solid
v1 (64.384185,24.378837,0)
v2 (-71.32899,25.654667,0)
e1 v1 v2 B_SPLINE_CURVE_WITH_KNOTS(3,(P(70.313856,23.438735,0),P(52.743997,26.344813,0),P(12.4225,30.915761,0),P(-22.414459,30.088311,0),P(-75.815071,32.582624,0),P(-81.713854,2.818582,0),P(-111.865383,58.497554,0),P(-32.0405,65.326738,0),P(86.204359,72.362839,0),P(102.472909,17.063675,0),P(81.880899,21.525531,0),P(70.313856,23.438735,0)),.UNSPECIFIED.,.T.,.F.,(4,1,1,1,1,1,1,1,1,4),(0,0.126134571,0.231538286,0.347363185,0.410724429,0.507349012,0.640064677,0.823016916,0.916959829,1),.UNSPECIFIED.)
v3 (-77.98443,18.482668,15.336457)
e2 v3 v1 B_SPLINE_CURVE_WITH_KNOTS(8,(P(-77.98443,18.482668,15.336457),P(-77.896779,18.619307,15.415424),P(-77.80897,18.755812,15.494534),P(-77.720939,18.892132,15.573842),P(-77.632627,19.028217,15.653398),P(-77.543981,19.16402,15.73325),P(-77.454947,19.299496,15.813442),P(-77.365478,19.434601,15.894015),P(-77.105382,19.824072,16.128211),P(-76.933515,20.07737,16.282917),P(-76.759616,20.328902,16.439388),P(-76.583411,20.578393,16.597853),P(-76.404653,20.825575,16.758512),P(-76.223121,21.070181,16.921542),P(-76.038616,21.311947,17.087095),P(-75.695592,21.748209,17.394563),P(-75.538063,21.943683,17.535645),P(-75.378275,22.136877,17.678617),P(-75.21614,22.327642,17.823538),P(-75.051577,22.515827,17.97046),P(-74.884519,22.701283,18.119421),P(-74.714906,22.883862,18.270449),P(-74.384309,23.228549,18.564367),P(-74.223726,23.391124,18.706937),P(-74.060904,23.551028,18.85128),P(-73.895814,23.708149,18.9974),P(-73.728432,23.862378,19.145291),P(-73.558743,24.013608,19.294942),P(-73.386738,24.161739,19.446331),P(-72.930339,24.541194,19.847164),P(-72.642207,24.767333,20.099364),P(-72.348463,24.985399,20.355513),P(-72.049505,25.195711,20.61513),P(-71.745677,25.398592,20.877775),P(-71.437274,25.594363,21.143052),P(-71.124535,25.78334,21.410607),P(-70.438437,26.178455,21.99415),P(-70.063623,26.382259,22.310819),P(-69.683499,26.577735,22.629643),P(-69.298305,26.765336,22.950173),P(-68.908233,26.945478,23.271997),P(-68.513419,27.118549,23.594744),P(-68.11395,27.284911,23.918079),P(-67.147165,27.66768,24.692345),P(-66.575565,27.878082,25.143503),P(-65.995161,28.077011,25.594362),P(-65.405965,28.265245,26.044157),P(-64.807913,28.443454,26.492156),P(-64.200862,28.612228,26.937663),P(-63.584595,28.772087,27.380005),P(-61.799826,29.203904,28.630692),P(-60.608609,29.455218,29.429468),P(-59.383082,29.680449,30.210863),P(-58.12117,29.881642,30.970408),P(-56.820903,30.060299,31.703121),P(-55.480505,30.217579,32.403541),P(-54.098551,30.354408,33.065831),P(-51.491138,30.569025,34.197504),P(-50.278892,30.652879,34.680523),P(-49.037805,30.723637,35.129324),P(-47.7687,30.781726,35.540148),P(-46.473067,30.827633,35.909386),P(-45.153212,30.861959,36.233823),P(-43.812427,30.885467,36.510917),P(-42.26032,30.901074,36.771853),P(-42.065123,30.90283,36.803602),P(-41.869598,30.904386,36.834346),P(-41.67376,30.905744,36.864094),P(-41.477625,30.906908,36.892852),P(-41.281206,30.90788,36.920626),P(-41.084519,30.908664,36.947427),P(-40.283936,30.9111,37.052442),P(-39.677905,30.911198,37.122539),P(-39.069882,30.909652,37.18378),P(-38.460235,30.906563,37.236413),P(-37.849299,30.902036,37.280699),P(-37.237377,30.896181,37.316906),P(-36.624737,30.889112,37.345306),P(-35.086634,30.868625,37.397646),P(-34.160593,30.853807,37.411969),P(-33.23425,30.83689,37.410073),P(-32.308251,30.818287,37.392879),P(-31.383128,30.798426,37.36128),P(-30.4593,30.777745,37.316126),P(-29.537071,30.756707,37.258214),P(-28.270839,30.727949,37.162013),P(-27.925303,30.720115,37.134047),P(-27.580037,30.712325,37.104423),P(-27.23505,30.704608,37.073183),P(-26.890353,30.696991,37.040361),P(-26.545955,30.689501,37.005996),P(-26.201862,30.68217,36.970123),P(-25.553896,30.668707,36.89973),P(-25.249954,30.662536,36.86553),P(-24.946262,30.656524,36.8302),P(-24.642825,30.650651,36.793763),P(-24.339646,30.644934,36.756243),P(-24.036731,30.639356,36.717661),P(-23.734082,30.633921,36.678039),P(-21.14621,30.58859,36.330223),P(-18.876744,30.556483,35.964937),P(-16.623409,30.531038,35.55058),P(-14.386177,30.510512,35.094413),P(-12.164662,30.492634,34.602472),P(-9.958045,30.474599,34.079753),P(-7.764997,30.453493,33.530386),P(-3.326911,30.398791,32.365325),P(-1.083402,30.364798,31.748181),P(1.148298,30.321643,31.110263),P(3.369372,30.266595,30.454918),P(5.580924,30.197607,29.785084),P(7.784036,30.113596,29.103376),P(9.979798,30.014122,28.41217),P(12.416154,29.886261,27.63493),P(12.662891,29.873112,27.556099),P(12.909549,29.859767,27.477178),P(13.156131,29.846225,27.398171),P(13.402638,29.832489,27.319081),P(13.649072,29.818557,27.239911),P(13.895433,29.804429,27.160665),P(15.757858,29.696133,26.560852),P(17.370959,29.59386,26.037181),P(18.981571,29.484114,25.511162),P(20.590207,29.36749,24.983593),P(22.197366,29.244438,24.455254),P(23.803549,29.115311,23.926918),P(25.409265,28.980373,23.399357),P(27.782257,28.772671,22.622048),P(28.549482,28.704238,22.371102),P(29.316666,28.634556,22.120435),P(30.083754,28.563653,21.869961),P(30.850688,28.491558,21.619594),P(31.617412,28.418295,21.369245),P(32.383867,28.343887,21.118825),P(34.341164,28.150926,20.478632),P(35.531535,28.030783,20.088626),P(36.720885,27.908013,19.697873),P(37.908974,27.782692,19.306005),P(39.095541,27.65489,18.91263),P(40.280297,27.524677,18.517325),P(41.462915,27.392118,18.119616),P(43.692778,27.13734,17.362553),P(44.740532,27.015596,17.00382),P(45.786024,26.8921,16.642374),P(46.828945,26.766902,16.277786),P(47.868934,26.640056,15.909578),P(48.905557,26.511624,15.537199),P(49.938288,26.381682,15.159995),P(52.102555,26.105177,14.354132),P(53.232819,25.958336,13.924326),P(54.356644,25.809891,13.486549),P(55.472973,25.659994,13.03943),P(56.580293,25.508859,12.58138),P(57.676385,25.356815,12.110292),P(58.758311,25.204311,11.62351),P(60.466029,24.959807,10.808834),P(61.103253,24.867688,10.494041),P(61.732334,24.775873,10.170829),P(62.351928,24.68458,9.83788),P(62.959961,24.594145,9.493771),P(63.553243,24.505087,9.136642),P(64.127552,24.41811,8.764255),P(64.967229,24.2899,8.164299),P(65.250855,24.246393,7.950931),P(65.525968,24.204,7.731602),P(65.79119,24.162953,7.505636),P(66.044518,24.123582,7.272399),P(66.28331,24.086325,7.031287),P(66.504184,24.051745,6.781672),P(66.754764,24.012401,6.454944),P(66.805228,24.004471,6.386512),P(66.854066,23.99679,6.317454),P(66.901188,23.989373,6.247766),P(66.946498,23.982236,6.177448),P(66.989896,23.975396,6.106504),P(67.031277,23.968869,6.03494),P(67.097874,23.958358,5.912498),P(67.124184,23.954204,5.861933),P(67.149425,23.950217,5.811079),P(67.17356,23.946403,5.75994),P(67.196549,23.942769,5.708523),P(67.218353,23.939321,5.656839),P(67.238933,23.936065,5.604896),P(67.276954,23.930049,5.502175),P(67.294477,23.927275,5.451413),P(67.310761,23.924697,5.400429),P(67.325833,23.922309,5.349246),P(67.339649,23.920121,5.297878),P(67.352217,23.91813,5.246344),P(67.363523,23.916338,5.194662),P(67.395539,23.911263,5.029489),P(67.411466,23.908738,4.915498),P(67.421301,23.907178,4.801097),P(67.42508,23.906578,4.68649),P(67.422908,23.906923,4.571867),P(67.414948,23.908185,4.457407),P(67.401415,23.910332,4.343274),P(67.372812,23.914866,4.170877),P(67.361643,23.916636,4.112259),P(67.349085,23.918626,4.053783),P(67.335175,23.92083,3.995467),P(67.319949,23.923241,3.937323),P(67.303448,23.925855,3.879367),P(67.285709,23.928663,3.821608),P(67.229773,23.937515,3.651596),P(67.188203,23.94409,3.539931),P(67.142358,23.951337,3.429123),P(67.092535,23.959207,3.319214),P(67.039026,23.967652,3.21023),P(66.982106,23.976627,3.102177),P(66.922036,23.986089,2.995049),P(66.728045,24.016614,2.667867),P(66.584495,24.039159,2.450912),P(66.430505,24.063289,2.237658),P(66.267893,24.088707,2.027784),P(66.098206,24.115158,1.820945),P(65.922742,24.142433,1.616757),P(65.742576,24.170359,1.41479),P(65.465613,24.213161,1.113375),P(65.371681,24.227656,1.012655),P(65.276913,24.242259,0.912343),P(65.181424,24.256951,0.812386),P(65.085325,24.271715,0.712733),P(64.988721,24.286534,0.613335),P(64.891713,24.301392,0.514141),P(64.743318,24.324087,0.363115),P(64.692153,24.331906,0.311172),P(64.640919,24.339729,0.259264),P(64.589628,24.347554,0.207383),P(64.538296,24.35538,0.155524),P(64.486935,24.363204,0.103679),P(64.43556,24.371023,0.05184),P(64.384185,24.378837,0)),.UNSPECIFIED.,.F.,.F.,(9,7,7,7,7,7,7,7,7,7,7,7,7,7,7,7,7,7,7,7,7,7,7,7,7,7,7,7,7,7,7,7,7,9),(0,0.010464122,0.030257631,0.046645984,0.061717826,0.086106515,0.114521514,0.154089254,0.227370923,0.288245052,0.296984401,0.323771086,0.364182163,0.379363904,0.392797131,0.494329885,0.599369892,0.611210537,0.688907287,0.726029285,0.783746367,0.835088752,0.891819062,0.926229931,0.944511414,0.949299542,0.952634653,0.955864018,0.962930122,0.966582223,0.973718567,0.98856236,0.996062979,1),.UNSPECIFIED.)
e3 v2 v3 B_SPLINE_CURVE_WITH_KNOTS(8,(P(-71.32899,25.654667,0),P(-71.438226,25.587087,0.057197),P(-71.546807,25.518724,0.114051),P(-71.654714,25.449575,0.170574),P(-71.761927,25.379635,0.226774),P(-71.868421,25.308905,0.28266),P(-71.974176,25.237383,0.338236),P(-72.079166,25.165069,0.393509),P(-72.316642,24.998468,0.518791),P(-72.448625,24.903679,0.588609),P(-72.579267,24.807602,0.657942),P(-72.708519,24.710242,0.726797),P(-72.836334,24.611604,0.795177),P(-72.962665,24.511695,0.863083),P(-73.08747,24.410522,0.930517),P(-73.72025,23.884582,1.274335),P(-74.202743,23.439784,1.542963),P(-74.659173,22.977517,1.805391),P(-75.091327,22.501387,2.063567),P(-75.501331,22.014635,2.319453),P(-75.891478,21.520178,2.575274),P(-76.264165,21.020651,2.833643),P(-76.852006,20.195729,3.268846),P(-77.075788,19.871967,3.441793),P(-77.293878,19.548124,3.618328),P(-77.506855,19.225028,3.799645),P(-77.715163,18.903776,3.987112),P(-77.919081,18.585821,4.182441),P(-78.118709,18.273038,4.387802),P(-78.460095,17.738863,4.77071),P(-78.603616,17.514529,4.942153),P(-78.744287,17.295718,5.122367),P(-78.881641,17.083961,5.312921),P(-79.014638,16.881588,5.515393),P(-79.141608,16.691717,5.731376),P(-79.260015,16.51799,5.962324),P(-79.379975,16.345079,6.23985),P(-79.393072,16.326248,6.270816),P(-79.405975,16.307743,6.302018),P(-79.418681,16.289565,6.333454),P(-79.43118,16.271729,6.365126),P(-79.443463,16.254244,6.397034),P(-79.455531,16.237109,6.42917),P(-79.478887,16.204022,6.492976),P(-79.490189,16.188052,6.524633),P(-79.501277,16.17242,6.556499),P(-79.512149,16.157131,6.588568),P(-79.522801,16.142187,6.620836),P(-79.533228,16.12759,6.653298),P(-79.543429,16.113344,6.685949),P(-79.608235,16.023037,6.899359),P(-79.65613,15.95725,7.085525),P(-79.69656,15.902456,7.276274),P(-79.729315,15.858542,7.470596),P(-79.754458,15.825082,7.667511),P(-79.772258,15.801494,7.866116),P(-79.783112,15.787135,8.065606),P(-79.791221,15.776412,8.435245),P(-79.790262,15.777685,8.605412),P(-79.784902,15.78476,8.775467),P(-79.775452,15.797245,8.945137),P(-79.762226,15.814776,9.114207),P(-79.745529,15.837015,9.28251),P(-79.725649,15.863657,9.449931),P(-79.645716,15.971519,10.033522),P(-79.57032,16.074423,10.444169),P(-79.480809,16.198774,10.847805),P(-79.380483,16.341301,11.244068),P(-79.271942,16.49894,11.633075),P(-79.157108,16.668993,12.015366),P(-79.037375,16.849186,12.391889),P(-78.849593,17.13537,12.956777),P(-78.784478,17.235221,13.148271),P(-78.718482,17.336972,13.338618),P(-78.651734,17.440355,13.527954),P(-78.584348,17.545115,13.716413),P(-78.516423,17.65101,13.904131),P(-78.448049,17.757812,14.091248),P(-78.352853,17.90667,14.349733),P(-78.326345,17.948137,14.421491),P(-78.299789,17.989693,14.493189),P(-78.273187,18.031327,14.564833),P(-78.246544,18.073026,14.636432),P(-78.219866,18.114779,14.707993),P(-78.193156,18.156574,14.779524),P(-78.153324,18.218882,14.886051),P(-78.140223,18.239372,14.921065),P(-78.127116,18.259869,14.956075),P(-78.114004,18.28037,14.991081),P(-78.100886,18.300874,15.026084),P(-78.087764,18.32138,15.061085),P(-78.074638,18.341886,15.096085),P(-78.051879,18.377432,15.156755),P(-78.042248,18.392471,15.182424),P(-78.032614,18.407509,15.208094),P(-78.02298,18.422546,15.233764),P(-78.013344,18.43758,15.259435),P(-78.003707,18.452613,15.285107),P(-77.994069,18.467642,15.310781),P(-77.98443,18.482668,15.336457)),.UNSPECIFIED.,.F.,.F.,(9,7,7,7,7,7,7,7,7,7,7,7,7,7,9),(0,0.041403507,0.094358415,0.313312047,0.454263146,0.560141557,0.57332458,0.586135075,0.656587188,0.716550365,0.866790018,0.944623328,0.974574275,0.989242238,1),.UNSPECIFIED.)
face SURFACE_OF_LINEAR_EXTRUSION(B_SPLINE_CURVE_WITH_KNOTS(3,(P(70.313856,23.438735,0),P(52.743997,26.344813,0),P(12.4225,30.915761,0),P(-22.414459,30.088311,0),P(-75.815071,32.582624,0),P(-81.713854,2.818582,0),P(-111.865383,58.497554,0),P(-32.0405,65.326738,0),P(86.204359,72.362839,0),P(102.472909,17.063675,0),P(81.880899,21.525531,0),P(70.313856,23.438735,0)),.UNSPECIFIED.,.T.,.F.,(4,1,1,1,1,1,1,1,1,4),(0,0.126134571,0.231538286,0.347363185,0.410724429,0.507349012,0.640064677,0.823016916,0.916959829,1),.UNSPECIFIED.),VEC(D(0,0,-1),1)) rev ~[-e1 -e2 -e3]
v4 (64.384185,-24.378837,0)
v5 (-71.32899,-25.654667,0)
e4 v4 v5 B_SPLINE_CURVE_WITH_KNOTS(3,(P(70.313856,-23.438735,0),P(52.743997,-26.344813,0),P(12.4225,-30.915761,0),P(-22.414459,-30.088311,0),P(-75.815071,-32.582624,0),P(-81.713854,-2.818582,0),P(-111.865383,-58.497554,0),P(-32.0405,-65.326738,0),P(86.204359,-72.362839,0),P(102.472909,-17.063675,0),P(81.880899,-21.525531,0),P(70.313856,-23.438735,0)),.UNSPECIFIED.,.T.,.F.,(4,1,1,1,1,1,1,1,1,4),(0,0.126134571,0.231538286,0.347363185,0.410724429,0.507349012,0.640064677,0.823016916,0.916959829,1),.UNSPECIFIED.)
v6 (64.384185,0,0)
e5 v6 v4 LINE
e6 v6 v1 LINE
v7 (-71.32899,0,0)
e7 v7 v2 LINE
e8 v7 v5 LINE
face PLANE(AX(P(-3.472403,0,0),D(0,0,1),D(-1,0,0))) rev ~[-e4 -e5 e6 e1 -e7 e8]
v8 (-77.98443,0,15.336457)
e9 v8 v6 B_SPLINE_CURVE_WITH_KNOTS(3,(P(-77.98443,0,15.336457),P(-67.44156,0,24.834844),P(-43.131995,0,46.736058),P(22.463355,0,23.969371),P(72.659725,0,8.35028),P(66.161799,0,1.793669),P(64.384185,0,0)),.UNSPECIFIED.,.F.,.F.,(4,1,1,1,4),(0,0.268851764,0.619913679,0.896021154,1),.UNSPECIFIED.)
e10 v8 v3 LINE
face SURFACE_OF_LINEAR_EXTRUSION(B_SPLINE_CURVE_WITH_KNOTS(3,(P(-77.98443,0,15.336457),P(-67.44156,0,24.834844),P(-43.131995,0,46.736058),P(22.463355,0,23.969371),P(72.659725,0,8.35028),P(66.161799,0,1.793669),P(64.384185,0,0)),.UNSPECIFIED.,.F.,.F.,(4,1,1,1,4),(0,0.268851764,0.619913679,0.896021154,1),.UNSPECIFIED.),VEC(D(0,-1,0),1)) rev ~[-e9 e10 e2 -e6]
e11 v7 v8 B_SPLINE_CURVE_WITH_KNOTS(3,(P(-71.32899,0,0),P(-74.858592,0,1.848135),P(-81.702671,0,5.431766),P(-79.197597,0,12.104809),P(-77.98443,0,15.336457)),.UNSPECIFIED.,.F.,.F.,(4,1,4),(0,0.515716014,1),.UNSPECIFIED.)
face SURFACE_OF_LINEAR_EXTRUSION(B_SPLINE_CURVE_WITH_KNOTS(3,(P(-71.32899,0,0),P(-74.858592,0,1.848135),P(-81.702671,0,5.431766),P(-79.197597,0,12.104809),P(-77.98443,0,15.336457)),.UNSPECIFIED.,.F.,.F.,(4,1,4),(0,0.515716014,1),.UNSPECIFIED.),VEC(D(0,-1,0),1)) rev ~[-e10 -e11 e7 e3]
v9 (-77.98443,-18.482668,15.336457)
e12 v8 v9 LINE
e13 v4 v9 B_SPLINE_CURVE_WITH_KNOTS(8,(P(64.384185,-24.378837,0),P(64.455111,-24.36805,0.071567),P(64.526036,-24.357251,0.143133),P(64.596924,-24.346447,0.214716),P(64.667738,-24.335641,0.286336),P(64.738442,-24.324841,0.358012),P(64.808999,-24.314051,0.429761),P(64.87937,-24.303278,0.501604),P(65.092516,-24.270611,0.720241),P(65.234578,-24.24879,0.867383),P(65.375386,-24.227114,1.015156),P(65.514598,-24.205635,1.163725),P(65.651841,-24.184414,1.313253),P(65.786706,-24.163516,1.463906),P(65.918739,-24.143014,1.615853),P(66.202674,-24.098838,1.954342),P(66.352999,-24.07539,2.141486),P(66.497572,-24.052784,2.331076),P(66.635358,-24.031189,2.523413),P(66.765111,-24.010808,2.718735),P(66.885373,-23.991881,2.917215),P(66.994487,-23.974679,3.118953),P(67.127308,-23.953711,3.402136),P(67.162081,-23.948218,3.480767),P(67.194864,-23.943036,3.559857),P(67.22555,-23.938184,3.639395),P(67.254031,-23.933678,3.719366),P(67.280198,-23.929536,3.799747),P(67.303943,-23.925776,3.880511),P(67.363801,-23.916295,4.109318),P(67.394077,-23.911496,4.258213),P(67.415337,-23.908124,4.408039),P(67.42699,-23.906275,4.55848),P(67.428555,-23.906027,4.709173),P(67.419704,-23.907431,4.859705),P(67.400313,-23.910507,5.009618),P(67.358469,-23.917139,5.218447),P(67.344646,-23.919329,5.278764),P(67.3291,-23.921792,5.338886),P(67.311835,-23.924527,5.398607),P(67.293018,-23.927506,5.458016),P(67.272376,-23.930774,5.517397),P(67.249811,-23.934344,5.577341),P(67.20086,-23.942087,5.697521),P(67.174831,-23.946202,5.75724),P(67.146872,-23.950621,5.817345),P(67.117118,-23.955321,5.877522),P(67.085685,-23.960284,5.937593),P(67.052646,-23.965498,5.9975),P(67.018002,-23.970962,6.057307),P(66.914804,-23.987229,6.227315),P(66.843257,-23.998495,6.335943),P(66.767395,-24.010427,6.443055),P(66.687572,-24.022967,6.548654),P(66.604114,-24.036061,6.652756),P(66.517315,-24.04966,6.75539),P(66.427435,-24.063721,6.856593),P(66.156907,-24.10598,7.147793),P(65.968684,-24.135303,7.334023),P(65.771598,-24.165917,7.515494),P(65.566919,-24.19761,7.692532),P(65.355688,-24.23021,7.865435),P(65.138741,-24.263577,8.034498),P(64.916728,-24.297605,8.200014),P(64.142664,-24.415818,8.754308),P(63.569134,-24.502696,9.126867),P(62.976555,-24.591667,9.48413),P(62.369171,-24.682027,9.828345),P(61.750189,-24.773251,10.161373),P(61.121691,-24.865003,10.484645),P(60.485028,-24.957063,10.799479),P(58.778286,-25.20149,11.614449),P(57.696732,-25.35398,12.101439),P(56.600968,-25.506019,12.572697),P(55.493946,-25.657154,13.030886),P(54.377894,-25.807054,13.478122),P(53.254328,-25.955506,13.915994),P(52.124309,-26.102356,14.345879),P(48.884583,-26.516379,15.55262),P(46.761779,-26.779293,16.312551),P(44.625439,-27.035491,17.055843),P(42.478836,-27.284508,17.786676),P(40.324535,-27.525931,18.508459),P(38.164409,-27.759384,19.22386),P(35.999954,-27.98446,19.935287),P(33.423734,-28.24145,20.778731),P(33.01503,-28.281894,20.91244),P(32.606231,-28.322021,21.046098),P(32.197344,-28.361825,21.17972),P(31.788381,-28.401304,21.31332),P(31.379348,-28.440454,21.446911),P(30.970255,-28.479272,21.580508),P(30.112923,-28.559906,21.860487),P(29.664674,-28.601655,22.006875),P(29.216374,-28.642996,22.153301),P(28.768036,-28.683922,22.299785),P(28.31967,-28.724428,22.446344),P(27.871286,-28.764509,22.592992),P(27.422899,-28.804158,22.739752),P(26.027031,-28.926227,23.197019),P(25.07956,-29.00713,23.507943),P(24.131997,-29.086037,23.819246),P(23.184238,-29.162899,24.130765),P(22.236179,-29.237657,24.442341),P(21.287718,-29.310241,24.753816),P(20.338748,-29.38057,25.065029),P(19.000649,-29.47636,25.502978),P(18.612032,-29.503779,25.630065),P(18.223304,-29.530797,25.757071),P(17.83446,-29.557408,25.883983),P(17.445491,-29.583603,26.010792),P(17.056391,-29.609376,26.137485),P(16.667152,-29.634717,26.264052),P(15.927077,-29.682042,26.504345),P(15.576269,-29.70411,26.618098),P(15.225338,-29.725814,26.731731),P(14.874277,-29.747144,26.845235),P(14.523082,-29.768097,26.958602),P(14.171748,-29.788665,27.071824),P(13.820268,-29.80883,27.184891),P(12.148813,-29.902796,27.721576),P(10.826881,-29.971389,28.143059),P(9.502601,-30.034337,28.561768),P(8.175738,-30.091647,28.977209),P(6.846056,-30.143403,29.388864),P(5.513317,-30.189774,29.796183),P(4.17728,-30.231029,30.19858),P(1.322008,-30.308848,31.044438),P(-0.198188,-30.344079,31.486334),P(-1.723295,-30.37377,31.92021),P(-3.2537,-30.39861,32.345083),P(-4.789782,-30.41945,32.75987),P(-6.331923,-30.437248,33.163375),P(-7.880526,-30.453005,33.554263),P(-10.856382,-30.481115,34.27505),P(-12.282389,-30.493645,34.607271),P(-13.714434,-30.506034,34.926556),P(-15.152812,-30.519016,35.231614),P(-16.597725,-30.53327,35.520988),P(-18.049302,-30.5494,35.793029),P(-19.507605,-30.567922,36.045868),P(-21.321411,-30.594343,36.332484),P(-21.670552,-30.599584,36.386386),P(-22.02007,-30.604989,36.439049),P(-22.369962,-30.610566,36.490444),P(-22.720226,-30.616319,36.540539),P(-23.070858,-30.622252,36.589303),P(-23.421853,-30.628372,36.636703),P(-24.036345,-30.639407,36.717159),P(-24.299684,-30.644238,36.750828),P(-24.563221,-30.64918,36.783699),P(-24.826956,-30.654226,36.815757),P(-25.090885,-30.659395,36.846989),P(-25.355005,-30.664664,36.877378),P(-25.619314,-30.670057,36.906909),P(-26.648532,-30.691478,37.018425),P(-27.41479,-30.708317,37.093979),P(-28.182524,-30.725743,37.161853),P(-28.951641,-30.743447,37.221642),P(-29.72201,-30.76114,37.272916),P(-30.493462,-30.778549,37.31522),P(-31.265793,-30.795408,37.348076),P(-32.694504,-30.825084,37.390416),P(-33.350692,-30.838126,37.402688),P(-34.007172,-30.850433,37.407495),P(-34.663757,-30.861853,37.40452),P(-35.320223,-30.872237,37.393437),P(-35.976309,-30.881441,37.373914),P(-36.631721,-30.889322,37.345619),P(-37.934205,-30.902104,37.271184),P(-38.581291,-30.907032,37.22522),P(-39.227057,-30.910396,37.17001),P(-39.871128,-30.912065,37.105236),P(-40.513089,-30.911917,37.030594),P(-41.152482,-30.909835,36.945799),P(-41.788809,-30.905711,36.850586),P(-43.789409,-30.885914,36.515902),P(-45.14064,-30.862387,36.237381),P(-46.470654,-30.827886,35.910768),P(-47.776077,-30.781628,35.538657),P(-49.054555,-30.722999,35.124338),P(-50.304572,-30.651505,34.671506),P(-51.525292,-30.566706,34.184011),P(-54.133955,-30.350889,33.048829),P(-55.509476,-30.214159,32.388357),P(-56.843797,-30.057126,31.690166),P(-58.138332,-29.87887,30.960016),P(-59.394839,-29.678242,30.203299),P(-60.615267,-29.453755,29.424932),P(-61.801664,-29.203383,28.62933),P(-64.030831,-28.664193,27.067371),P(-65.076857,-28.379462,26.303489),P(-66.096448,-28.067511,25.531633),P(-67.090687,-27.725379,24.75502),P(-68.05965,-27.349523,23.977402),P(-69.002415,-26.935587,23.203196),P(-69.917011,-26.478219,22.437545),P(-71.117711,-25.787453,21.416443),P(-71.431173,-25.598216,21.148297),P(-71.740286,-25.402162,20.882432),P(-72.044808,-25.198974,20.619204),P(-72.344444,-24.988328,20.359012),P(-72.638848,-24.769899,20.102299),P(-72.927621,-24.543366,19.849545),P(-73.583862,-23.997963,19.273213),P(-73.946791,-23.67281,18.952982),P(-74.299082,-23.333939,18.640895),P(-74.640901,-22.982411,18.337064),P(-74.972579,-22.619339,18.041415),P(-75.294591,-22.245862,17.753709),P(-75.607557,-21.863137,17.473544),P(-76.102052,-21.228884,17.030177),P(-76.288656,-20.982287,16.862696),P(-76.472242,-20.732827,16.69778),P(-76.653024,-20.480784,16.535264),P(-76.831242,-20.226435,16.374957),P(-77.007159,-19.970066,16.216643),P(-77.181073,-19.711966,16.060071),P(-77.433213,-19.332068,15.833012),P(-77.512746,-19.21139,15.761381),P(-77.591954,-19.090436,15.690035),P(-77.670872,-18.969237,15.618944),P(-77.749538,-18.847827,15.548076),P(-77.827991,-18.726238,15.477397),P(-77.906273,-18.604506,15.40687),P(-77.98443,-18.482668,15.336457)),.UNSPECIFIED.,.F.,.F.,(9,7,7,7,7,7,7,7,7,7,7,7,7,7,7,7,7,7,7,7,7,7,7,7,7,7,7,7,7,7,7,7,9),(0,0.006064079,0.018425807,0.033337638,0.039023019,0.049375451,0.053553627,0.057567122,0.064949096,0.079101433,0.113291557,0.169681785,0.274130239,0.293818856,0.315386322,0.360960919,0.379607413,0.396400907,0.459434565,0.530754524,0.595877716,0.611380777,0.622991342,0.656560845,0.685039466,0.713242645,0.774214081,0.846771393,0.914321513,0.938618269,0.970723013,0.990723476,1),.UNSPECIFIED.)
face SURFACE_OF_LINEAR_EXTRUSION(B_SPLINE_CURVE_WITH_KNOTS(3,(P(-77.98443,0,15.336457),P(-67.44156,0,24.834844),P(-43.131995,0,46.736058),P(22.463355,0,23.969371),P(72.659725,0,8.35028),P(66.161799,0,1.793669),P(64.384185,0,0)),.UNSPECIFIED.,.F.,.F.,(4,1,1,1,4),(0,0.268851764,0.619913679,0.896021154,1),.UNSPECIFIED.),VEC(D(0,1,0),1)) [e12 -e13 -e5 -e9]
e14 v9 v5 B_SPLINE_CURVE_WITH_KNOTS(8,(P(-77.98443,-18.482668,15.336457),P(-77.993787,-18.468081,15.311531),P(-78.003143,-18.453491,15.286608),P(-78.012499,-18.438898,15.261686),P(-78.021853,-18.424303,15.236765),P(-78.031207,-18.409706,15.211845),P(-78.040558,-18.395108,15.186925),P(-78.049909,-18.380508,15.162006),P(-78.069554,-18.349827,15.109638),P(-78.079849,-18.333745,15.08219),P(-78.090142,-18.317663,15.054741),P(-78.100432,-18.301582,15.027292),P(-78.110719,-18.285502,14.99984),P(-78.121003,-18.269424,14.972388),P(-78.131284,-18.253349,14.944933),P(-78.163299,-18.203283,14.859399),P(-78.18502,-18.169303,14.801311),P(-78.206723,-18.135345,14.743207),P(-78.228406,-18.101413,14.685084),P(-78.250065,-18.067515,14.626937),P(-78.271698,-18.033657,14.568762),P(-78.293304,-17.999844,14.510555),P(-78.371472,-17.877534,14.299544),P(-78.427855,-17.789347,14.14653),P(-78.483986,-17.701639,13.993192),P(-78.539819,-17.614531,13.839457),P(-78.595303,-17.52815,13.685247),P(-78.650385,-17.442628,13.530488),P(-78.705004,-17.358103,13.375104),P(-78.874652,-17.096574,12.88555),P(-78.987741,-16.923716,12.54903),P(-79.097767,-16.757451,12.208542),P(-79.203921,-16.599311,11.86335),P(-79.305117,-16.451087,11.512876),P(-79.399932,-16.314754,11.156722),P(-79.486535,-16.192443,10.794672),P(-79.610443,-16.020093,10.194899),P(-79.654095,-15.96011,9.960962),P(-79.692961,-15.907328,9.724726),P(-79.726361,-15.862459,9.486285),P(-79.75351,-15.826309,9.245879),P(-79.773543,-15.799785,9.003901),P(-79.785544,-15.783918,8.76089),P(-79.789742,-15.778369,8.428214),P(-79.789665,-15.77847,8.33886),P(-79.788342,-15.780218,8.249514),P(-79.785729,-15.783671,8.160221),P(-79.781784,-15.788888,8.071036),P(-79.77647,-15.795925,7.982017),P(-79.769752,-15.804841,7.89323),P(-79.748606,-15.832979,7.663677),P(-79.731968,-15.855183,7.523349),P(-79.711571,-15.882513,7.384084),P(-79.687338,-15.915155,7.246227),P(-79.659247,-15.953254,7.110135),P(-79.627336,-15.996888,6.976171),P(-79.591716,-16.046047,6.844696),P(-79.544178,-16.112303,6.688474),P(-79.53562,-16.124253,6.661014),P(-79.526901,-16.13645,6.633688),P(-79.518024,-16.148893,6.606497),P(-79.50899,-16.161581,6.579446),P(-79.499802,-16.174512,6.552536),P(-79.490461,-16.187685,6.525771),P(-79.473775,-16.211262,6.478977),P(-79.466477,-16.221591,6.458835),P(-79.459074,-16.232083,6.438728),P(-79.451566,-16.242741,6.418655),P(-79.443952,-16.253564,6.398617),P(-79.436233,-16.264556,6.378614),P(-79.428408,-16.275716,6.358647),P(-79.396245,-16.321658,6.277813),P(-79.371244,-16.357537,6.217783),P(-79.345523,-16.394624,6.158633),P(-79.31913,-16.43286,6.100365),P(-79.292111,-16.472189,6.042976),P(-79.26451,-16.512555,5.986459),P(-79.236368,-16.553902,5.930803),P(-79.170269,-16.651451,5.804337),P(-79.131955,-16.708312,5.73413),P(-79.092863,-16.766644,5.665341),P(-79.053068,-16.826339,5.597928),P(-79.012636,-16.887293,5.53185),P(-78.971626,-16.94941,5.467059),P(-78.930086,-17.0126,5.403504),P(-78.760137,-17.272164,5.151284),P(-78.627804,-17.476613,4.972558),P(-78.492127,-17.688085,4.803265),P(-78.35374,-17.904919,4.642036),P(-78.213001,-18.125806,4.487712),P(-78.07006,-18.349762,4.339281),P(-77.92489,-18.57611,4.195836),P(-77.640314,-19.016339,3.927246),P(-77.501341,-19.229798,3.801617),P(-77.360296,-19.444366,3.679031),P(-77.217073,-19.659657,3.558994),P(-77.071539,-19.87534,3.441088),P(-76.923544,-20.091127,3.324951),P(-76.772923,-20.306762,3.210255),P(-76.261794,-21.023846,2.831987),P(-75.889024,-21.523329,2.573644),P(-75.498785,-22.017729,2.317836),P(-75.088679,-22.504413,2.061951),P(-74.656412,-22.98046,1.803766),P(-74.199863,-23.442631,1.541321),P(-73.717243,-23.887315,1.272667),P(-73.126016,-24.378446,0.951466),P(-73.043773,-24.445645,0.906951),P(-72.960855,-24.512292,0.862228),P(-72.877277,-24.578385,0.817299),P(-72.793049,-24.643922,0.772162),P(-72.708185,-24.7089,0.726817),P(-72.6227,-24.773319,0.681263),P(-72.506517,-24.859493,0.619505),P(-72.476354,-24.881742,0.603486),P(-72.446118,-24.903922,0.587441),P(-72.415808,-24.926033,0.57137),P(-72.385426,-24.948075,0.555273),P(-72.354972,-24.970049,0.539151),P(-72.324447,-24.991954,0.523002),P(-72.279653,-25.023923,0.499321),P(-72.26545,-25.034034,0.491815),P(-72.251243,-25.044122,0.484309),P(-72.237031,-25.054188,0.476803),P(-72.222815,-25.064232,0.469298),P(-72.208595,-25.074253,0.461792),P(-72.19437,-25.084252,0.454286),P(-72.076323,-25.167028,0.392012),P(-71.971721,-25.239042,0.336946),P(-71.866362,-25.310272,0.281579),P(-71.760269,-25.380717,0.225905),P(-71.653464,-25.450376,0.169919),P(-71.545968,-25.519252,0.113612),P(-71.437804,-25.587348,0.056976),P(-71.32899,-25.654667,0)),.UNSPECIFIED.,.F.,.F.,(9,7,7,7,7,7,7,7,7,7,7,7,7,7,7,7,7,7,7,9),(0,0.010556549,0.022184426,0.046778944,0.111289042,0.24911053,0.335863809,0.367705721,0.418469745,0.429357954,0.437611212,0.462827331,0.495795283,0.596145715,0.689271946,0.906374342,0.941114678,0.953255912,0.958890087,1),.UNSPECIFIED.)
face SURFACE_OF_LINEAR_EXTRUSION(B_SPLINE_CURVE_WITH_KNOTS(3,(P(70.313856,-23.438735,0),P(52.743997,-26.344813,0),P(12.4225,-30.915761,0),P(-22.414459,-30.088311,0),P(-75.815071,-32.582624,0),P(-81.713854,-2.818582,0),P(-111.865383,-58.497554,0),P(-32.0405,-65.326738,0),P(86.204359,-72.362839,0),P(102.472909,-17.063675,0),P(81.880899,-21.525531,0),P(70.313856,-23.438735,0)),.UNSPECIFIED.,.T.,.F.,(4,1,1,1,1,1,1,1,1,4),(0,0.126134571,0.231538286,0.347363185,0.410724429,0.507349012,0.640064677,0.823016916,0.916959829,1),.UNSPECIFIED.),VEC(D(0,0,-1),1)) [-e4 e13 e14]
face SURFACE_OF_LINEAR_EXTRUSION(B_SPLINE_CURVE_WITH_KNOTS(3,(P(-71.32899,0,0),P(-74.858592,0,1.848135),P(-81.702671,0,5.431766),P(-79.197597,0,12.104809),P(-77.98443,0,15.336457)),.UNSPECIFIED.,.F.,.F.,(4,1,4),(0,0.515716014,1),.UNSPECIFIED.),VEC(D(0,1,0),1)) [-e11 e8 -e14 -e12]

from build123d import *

# Parameters (mm, degrees)
F1_DEPTH = 33.02
F3_DEPTH = 46.228


with BuildPart() as f1:
    # F0 (on Front) → F1 (new body, symmetric)
    with BuildSketch(Plane.XZ):
        with BuildLine():
            add(Edge.make_bspline(
                [(-77.9844298959, 15.3364567086), (-67.441559708, 24.8348439385), (-43.1319946928, 46.7360584835), (22.46335452, 23.9693705903), (72.659725133, 8.35028032), (66.1617990206, 1.7936686418), (64.3841847777, 0)],
                knots=[0, 0, 0, 0, 0.2688517645, 0.6199136794, 0.8960211542, 1, 1, 1, 1], degree=3))
            add(Edge.make_bspline(
                [(-71.3289901614, 0), (-74.858591664, 1.8481354579), (-81.7026713629, 5.4317656097), (-79.1975971976, 12.1048087693), (-77.9844298959, 15.3364567086)],
                knots=[0, 0, 0, 0, 0.5157160141, 1, 1, 1, 1], degree=3))
            add(Edge.make_bspline(
                [(64.3841847777, 0), (19.146459798, 0), (-26.0912651817, 0), (-71.3289901614, 0)],
                knots=[0, 0, 0, 0, 135.7131749392, 135.7131749392, 135.7131749392, 135.7131749392], degree=3))
        make_face()
    extrude(amount=F1_DEPTH, both=True)

    # F2 (on Top) → F3 (cut)
    with BuildSketch(Plane.XY):
        with BuildLine():
            add(Edge.make_bspline(
                [(70.3138560057, 23.4387349337), (52.7439974276, 26.3448128405), (12.422499824, 30.9157610033), (-22.4144593659, 30.0883111575), (-75.8150707057, 32.5826236572), (-81.7138541645, 2.8185815309), (-111.8653829035, 58.4975544), (-32.0404997441, 65.3267380398), (86.20435915, 72.3628390242), (102.4729090282, 17.0636754281), (81.8808994496, 21.52553061), (70.3138560057, 23.4387349337)],
                knots=[0, 0, 0, 0, 0.1261345711, 0.2315382861, 0.3473631849, 0.4107244289, 0.5073490116, 0.6400646773, 0.8230169164, 0.9169598288, 1, 1, 1, 1], degree=3))
        make_face()
        with BuildLine():
            add(Edge.make_bspline(
                [(70.3138560057, -23.4387349337), (52.7439974276, -26.3448128405), (12.422499824, -30.9157610033), (-22.4144593659, -30.0883111575), (-75.8150707057, -32.5826236572), (-81.7138541645, -2.8185815309), (-111.8653829035, -58.4975544), (-32.0404997441, -65.3267380398), (86.20435915, -72.3628390242), (102.4729090282, -17.0636754281), (81.8808994496, -21.52553061), (70.3138560057, -23.4387349337)],
                knots=[0, 0, 0, 0, 0.1261345711, 0.2315382861, 0.3473631849, 0.4107244289, 0.5073490116, 0.6400646773, 0.8230169164, 0.9169598288, 1, 1, 1, 1], degree=3))
        make_face()
    extrude(amount=F3_DEPTH, mode=Mode.SUBTRACT)


solid = f1.part
